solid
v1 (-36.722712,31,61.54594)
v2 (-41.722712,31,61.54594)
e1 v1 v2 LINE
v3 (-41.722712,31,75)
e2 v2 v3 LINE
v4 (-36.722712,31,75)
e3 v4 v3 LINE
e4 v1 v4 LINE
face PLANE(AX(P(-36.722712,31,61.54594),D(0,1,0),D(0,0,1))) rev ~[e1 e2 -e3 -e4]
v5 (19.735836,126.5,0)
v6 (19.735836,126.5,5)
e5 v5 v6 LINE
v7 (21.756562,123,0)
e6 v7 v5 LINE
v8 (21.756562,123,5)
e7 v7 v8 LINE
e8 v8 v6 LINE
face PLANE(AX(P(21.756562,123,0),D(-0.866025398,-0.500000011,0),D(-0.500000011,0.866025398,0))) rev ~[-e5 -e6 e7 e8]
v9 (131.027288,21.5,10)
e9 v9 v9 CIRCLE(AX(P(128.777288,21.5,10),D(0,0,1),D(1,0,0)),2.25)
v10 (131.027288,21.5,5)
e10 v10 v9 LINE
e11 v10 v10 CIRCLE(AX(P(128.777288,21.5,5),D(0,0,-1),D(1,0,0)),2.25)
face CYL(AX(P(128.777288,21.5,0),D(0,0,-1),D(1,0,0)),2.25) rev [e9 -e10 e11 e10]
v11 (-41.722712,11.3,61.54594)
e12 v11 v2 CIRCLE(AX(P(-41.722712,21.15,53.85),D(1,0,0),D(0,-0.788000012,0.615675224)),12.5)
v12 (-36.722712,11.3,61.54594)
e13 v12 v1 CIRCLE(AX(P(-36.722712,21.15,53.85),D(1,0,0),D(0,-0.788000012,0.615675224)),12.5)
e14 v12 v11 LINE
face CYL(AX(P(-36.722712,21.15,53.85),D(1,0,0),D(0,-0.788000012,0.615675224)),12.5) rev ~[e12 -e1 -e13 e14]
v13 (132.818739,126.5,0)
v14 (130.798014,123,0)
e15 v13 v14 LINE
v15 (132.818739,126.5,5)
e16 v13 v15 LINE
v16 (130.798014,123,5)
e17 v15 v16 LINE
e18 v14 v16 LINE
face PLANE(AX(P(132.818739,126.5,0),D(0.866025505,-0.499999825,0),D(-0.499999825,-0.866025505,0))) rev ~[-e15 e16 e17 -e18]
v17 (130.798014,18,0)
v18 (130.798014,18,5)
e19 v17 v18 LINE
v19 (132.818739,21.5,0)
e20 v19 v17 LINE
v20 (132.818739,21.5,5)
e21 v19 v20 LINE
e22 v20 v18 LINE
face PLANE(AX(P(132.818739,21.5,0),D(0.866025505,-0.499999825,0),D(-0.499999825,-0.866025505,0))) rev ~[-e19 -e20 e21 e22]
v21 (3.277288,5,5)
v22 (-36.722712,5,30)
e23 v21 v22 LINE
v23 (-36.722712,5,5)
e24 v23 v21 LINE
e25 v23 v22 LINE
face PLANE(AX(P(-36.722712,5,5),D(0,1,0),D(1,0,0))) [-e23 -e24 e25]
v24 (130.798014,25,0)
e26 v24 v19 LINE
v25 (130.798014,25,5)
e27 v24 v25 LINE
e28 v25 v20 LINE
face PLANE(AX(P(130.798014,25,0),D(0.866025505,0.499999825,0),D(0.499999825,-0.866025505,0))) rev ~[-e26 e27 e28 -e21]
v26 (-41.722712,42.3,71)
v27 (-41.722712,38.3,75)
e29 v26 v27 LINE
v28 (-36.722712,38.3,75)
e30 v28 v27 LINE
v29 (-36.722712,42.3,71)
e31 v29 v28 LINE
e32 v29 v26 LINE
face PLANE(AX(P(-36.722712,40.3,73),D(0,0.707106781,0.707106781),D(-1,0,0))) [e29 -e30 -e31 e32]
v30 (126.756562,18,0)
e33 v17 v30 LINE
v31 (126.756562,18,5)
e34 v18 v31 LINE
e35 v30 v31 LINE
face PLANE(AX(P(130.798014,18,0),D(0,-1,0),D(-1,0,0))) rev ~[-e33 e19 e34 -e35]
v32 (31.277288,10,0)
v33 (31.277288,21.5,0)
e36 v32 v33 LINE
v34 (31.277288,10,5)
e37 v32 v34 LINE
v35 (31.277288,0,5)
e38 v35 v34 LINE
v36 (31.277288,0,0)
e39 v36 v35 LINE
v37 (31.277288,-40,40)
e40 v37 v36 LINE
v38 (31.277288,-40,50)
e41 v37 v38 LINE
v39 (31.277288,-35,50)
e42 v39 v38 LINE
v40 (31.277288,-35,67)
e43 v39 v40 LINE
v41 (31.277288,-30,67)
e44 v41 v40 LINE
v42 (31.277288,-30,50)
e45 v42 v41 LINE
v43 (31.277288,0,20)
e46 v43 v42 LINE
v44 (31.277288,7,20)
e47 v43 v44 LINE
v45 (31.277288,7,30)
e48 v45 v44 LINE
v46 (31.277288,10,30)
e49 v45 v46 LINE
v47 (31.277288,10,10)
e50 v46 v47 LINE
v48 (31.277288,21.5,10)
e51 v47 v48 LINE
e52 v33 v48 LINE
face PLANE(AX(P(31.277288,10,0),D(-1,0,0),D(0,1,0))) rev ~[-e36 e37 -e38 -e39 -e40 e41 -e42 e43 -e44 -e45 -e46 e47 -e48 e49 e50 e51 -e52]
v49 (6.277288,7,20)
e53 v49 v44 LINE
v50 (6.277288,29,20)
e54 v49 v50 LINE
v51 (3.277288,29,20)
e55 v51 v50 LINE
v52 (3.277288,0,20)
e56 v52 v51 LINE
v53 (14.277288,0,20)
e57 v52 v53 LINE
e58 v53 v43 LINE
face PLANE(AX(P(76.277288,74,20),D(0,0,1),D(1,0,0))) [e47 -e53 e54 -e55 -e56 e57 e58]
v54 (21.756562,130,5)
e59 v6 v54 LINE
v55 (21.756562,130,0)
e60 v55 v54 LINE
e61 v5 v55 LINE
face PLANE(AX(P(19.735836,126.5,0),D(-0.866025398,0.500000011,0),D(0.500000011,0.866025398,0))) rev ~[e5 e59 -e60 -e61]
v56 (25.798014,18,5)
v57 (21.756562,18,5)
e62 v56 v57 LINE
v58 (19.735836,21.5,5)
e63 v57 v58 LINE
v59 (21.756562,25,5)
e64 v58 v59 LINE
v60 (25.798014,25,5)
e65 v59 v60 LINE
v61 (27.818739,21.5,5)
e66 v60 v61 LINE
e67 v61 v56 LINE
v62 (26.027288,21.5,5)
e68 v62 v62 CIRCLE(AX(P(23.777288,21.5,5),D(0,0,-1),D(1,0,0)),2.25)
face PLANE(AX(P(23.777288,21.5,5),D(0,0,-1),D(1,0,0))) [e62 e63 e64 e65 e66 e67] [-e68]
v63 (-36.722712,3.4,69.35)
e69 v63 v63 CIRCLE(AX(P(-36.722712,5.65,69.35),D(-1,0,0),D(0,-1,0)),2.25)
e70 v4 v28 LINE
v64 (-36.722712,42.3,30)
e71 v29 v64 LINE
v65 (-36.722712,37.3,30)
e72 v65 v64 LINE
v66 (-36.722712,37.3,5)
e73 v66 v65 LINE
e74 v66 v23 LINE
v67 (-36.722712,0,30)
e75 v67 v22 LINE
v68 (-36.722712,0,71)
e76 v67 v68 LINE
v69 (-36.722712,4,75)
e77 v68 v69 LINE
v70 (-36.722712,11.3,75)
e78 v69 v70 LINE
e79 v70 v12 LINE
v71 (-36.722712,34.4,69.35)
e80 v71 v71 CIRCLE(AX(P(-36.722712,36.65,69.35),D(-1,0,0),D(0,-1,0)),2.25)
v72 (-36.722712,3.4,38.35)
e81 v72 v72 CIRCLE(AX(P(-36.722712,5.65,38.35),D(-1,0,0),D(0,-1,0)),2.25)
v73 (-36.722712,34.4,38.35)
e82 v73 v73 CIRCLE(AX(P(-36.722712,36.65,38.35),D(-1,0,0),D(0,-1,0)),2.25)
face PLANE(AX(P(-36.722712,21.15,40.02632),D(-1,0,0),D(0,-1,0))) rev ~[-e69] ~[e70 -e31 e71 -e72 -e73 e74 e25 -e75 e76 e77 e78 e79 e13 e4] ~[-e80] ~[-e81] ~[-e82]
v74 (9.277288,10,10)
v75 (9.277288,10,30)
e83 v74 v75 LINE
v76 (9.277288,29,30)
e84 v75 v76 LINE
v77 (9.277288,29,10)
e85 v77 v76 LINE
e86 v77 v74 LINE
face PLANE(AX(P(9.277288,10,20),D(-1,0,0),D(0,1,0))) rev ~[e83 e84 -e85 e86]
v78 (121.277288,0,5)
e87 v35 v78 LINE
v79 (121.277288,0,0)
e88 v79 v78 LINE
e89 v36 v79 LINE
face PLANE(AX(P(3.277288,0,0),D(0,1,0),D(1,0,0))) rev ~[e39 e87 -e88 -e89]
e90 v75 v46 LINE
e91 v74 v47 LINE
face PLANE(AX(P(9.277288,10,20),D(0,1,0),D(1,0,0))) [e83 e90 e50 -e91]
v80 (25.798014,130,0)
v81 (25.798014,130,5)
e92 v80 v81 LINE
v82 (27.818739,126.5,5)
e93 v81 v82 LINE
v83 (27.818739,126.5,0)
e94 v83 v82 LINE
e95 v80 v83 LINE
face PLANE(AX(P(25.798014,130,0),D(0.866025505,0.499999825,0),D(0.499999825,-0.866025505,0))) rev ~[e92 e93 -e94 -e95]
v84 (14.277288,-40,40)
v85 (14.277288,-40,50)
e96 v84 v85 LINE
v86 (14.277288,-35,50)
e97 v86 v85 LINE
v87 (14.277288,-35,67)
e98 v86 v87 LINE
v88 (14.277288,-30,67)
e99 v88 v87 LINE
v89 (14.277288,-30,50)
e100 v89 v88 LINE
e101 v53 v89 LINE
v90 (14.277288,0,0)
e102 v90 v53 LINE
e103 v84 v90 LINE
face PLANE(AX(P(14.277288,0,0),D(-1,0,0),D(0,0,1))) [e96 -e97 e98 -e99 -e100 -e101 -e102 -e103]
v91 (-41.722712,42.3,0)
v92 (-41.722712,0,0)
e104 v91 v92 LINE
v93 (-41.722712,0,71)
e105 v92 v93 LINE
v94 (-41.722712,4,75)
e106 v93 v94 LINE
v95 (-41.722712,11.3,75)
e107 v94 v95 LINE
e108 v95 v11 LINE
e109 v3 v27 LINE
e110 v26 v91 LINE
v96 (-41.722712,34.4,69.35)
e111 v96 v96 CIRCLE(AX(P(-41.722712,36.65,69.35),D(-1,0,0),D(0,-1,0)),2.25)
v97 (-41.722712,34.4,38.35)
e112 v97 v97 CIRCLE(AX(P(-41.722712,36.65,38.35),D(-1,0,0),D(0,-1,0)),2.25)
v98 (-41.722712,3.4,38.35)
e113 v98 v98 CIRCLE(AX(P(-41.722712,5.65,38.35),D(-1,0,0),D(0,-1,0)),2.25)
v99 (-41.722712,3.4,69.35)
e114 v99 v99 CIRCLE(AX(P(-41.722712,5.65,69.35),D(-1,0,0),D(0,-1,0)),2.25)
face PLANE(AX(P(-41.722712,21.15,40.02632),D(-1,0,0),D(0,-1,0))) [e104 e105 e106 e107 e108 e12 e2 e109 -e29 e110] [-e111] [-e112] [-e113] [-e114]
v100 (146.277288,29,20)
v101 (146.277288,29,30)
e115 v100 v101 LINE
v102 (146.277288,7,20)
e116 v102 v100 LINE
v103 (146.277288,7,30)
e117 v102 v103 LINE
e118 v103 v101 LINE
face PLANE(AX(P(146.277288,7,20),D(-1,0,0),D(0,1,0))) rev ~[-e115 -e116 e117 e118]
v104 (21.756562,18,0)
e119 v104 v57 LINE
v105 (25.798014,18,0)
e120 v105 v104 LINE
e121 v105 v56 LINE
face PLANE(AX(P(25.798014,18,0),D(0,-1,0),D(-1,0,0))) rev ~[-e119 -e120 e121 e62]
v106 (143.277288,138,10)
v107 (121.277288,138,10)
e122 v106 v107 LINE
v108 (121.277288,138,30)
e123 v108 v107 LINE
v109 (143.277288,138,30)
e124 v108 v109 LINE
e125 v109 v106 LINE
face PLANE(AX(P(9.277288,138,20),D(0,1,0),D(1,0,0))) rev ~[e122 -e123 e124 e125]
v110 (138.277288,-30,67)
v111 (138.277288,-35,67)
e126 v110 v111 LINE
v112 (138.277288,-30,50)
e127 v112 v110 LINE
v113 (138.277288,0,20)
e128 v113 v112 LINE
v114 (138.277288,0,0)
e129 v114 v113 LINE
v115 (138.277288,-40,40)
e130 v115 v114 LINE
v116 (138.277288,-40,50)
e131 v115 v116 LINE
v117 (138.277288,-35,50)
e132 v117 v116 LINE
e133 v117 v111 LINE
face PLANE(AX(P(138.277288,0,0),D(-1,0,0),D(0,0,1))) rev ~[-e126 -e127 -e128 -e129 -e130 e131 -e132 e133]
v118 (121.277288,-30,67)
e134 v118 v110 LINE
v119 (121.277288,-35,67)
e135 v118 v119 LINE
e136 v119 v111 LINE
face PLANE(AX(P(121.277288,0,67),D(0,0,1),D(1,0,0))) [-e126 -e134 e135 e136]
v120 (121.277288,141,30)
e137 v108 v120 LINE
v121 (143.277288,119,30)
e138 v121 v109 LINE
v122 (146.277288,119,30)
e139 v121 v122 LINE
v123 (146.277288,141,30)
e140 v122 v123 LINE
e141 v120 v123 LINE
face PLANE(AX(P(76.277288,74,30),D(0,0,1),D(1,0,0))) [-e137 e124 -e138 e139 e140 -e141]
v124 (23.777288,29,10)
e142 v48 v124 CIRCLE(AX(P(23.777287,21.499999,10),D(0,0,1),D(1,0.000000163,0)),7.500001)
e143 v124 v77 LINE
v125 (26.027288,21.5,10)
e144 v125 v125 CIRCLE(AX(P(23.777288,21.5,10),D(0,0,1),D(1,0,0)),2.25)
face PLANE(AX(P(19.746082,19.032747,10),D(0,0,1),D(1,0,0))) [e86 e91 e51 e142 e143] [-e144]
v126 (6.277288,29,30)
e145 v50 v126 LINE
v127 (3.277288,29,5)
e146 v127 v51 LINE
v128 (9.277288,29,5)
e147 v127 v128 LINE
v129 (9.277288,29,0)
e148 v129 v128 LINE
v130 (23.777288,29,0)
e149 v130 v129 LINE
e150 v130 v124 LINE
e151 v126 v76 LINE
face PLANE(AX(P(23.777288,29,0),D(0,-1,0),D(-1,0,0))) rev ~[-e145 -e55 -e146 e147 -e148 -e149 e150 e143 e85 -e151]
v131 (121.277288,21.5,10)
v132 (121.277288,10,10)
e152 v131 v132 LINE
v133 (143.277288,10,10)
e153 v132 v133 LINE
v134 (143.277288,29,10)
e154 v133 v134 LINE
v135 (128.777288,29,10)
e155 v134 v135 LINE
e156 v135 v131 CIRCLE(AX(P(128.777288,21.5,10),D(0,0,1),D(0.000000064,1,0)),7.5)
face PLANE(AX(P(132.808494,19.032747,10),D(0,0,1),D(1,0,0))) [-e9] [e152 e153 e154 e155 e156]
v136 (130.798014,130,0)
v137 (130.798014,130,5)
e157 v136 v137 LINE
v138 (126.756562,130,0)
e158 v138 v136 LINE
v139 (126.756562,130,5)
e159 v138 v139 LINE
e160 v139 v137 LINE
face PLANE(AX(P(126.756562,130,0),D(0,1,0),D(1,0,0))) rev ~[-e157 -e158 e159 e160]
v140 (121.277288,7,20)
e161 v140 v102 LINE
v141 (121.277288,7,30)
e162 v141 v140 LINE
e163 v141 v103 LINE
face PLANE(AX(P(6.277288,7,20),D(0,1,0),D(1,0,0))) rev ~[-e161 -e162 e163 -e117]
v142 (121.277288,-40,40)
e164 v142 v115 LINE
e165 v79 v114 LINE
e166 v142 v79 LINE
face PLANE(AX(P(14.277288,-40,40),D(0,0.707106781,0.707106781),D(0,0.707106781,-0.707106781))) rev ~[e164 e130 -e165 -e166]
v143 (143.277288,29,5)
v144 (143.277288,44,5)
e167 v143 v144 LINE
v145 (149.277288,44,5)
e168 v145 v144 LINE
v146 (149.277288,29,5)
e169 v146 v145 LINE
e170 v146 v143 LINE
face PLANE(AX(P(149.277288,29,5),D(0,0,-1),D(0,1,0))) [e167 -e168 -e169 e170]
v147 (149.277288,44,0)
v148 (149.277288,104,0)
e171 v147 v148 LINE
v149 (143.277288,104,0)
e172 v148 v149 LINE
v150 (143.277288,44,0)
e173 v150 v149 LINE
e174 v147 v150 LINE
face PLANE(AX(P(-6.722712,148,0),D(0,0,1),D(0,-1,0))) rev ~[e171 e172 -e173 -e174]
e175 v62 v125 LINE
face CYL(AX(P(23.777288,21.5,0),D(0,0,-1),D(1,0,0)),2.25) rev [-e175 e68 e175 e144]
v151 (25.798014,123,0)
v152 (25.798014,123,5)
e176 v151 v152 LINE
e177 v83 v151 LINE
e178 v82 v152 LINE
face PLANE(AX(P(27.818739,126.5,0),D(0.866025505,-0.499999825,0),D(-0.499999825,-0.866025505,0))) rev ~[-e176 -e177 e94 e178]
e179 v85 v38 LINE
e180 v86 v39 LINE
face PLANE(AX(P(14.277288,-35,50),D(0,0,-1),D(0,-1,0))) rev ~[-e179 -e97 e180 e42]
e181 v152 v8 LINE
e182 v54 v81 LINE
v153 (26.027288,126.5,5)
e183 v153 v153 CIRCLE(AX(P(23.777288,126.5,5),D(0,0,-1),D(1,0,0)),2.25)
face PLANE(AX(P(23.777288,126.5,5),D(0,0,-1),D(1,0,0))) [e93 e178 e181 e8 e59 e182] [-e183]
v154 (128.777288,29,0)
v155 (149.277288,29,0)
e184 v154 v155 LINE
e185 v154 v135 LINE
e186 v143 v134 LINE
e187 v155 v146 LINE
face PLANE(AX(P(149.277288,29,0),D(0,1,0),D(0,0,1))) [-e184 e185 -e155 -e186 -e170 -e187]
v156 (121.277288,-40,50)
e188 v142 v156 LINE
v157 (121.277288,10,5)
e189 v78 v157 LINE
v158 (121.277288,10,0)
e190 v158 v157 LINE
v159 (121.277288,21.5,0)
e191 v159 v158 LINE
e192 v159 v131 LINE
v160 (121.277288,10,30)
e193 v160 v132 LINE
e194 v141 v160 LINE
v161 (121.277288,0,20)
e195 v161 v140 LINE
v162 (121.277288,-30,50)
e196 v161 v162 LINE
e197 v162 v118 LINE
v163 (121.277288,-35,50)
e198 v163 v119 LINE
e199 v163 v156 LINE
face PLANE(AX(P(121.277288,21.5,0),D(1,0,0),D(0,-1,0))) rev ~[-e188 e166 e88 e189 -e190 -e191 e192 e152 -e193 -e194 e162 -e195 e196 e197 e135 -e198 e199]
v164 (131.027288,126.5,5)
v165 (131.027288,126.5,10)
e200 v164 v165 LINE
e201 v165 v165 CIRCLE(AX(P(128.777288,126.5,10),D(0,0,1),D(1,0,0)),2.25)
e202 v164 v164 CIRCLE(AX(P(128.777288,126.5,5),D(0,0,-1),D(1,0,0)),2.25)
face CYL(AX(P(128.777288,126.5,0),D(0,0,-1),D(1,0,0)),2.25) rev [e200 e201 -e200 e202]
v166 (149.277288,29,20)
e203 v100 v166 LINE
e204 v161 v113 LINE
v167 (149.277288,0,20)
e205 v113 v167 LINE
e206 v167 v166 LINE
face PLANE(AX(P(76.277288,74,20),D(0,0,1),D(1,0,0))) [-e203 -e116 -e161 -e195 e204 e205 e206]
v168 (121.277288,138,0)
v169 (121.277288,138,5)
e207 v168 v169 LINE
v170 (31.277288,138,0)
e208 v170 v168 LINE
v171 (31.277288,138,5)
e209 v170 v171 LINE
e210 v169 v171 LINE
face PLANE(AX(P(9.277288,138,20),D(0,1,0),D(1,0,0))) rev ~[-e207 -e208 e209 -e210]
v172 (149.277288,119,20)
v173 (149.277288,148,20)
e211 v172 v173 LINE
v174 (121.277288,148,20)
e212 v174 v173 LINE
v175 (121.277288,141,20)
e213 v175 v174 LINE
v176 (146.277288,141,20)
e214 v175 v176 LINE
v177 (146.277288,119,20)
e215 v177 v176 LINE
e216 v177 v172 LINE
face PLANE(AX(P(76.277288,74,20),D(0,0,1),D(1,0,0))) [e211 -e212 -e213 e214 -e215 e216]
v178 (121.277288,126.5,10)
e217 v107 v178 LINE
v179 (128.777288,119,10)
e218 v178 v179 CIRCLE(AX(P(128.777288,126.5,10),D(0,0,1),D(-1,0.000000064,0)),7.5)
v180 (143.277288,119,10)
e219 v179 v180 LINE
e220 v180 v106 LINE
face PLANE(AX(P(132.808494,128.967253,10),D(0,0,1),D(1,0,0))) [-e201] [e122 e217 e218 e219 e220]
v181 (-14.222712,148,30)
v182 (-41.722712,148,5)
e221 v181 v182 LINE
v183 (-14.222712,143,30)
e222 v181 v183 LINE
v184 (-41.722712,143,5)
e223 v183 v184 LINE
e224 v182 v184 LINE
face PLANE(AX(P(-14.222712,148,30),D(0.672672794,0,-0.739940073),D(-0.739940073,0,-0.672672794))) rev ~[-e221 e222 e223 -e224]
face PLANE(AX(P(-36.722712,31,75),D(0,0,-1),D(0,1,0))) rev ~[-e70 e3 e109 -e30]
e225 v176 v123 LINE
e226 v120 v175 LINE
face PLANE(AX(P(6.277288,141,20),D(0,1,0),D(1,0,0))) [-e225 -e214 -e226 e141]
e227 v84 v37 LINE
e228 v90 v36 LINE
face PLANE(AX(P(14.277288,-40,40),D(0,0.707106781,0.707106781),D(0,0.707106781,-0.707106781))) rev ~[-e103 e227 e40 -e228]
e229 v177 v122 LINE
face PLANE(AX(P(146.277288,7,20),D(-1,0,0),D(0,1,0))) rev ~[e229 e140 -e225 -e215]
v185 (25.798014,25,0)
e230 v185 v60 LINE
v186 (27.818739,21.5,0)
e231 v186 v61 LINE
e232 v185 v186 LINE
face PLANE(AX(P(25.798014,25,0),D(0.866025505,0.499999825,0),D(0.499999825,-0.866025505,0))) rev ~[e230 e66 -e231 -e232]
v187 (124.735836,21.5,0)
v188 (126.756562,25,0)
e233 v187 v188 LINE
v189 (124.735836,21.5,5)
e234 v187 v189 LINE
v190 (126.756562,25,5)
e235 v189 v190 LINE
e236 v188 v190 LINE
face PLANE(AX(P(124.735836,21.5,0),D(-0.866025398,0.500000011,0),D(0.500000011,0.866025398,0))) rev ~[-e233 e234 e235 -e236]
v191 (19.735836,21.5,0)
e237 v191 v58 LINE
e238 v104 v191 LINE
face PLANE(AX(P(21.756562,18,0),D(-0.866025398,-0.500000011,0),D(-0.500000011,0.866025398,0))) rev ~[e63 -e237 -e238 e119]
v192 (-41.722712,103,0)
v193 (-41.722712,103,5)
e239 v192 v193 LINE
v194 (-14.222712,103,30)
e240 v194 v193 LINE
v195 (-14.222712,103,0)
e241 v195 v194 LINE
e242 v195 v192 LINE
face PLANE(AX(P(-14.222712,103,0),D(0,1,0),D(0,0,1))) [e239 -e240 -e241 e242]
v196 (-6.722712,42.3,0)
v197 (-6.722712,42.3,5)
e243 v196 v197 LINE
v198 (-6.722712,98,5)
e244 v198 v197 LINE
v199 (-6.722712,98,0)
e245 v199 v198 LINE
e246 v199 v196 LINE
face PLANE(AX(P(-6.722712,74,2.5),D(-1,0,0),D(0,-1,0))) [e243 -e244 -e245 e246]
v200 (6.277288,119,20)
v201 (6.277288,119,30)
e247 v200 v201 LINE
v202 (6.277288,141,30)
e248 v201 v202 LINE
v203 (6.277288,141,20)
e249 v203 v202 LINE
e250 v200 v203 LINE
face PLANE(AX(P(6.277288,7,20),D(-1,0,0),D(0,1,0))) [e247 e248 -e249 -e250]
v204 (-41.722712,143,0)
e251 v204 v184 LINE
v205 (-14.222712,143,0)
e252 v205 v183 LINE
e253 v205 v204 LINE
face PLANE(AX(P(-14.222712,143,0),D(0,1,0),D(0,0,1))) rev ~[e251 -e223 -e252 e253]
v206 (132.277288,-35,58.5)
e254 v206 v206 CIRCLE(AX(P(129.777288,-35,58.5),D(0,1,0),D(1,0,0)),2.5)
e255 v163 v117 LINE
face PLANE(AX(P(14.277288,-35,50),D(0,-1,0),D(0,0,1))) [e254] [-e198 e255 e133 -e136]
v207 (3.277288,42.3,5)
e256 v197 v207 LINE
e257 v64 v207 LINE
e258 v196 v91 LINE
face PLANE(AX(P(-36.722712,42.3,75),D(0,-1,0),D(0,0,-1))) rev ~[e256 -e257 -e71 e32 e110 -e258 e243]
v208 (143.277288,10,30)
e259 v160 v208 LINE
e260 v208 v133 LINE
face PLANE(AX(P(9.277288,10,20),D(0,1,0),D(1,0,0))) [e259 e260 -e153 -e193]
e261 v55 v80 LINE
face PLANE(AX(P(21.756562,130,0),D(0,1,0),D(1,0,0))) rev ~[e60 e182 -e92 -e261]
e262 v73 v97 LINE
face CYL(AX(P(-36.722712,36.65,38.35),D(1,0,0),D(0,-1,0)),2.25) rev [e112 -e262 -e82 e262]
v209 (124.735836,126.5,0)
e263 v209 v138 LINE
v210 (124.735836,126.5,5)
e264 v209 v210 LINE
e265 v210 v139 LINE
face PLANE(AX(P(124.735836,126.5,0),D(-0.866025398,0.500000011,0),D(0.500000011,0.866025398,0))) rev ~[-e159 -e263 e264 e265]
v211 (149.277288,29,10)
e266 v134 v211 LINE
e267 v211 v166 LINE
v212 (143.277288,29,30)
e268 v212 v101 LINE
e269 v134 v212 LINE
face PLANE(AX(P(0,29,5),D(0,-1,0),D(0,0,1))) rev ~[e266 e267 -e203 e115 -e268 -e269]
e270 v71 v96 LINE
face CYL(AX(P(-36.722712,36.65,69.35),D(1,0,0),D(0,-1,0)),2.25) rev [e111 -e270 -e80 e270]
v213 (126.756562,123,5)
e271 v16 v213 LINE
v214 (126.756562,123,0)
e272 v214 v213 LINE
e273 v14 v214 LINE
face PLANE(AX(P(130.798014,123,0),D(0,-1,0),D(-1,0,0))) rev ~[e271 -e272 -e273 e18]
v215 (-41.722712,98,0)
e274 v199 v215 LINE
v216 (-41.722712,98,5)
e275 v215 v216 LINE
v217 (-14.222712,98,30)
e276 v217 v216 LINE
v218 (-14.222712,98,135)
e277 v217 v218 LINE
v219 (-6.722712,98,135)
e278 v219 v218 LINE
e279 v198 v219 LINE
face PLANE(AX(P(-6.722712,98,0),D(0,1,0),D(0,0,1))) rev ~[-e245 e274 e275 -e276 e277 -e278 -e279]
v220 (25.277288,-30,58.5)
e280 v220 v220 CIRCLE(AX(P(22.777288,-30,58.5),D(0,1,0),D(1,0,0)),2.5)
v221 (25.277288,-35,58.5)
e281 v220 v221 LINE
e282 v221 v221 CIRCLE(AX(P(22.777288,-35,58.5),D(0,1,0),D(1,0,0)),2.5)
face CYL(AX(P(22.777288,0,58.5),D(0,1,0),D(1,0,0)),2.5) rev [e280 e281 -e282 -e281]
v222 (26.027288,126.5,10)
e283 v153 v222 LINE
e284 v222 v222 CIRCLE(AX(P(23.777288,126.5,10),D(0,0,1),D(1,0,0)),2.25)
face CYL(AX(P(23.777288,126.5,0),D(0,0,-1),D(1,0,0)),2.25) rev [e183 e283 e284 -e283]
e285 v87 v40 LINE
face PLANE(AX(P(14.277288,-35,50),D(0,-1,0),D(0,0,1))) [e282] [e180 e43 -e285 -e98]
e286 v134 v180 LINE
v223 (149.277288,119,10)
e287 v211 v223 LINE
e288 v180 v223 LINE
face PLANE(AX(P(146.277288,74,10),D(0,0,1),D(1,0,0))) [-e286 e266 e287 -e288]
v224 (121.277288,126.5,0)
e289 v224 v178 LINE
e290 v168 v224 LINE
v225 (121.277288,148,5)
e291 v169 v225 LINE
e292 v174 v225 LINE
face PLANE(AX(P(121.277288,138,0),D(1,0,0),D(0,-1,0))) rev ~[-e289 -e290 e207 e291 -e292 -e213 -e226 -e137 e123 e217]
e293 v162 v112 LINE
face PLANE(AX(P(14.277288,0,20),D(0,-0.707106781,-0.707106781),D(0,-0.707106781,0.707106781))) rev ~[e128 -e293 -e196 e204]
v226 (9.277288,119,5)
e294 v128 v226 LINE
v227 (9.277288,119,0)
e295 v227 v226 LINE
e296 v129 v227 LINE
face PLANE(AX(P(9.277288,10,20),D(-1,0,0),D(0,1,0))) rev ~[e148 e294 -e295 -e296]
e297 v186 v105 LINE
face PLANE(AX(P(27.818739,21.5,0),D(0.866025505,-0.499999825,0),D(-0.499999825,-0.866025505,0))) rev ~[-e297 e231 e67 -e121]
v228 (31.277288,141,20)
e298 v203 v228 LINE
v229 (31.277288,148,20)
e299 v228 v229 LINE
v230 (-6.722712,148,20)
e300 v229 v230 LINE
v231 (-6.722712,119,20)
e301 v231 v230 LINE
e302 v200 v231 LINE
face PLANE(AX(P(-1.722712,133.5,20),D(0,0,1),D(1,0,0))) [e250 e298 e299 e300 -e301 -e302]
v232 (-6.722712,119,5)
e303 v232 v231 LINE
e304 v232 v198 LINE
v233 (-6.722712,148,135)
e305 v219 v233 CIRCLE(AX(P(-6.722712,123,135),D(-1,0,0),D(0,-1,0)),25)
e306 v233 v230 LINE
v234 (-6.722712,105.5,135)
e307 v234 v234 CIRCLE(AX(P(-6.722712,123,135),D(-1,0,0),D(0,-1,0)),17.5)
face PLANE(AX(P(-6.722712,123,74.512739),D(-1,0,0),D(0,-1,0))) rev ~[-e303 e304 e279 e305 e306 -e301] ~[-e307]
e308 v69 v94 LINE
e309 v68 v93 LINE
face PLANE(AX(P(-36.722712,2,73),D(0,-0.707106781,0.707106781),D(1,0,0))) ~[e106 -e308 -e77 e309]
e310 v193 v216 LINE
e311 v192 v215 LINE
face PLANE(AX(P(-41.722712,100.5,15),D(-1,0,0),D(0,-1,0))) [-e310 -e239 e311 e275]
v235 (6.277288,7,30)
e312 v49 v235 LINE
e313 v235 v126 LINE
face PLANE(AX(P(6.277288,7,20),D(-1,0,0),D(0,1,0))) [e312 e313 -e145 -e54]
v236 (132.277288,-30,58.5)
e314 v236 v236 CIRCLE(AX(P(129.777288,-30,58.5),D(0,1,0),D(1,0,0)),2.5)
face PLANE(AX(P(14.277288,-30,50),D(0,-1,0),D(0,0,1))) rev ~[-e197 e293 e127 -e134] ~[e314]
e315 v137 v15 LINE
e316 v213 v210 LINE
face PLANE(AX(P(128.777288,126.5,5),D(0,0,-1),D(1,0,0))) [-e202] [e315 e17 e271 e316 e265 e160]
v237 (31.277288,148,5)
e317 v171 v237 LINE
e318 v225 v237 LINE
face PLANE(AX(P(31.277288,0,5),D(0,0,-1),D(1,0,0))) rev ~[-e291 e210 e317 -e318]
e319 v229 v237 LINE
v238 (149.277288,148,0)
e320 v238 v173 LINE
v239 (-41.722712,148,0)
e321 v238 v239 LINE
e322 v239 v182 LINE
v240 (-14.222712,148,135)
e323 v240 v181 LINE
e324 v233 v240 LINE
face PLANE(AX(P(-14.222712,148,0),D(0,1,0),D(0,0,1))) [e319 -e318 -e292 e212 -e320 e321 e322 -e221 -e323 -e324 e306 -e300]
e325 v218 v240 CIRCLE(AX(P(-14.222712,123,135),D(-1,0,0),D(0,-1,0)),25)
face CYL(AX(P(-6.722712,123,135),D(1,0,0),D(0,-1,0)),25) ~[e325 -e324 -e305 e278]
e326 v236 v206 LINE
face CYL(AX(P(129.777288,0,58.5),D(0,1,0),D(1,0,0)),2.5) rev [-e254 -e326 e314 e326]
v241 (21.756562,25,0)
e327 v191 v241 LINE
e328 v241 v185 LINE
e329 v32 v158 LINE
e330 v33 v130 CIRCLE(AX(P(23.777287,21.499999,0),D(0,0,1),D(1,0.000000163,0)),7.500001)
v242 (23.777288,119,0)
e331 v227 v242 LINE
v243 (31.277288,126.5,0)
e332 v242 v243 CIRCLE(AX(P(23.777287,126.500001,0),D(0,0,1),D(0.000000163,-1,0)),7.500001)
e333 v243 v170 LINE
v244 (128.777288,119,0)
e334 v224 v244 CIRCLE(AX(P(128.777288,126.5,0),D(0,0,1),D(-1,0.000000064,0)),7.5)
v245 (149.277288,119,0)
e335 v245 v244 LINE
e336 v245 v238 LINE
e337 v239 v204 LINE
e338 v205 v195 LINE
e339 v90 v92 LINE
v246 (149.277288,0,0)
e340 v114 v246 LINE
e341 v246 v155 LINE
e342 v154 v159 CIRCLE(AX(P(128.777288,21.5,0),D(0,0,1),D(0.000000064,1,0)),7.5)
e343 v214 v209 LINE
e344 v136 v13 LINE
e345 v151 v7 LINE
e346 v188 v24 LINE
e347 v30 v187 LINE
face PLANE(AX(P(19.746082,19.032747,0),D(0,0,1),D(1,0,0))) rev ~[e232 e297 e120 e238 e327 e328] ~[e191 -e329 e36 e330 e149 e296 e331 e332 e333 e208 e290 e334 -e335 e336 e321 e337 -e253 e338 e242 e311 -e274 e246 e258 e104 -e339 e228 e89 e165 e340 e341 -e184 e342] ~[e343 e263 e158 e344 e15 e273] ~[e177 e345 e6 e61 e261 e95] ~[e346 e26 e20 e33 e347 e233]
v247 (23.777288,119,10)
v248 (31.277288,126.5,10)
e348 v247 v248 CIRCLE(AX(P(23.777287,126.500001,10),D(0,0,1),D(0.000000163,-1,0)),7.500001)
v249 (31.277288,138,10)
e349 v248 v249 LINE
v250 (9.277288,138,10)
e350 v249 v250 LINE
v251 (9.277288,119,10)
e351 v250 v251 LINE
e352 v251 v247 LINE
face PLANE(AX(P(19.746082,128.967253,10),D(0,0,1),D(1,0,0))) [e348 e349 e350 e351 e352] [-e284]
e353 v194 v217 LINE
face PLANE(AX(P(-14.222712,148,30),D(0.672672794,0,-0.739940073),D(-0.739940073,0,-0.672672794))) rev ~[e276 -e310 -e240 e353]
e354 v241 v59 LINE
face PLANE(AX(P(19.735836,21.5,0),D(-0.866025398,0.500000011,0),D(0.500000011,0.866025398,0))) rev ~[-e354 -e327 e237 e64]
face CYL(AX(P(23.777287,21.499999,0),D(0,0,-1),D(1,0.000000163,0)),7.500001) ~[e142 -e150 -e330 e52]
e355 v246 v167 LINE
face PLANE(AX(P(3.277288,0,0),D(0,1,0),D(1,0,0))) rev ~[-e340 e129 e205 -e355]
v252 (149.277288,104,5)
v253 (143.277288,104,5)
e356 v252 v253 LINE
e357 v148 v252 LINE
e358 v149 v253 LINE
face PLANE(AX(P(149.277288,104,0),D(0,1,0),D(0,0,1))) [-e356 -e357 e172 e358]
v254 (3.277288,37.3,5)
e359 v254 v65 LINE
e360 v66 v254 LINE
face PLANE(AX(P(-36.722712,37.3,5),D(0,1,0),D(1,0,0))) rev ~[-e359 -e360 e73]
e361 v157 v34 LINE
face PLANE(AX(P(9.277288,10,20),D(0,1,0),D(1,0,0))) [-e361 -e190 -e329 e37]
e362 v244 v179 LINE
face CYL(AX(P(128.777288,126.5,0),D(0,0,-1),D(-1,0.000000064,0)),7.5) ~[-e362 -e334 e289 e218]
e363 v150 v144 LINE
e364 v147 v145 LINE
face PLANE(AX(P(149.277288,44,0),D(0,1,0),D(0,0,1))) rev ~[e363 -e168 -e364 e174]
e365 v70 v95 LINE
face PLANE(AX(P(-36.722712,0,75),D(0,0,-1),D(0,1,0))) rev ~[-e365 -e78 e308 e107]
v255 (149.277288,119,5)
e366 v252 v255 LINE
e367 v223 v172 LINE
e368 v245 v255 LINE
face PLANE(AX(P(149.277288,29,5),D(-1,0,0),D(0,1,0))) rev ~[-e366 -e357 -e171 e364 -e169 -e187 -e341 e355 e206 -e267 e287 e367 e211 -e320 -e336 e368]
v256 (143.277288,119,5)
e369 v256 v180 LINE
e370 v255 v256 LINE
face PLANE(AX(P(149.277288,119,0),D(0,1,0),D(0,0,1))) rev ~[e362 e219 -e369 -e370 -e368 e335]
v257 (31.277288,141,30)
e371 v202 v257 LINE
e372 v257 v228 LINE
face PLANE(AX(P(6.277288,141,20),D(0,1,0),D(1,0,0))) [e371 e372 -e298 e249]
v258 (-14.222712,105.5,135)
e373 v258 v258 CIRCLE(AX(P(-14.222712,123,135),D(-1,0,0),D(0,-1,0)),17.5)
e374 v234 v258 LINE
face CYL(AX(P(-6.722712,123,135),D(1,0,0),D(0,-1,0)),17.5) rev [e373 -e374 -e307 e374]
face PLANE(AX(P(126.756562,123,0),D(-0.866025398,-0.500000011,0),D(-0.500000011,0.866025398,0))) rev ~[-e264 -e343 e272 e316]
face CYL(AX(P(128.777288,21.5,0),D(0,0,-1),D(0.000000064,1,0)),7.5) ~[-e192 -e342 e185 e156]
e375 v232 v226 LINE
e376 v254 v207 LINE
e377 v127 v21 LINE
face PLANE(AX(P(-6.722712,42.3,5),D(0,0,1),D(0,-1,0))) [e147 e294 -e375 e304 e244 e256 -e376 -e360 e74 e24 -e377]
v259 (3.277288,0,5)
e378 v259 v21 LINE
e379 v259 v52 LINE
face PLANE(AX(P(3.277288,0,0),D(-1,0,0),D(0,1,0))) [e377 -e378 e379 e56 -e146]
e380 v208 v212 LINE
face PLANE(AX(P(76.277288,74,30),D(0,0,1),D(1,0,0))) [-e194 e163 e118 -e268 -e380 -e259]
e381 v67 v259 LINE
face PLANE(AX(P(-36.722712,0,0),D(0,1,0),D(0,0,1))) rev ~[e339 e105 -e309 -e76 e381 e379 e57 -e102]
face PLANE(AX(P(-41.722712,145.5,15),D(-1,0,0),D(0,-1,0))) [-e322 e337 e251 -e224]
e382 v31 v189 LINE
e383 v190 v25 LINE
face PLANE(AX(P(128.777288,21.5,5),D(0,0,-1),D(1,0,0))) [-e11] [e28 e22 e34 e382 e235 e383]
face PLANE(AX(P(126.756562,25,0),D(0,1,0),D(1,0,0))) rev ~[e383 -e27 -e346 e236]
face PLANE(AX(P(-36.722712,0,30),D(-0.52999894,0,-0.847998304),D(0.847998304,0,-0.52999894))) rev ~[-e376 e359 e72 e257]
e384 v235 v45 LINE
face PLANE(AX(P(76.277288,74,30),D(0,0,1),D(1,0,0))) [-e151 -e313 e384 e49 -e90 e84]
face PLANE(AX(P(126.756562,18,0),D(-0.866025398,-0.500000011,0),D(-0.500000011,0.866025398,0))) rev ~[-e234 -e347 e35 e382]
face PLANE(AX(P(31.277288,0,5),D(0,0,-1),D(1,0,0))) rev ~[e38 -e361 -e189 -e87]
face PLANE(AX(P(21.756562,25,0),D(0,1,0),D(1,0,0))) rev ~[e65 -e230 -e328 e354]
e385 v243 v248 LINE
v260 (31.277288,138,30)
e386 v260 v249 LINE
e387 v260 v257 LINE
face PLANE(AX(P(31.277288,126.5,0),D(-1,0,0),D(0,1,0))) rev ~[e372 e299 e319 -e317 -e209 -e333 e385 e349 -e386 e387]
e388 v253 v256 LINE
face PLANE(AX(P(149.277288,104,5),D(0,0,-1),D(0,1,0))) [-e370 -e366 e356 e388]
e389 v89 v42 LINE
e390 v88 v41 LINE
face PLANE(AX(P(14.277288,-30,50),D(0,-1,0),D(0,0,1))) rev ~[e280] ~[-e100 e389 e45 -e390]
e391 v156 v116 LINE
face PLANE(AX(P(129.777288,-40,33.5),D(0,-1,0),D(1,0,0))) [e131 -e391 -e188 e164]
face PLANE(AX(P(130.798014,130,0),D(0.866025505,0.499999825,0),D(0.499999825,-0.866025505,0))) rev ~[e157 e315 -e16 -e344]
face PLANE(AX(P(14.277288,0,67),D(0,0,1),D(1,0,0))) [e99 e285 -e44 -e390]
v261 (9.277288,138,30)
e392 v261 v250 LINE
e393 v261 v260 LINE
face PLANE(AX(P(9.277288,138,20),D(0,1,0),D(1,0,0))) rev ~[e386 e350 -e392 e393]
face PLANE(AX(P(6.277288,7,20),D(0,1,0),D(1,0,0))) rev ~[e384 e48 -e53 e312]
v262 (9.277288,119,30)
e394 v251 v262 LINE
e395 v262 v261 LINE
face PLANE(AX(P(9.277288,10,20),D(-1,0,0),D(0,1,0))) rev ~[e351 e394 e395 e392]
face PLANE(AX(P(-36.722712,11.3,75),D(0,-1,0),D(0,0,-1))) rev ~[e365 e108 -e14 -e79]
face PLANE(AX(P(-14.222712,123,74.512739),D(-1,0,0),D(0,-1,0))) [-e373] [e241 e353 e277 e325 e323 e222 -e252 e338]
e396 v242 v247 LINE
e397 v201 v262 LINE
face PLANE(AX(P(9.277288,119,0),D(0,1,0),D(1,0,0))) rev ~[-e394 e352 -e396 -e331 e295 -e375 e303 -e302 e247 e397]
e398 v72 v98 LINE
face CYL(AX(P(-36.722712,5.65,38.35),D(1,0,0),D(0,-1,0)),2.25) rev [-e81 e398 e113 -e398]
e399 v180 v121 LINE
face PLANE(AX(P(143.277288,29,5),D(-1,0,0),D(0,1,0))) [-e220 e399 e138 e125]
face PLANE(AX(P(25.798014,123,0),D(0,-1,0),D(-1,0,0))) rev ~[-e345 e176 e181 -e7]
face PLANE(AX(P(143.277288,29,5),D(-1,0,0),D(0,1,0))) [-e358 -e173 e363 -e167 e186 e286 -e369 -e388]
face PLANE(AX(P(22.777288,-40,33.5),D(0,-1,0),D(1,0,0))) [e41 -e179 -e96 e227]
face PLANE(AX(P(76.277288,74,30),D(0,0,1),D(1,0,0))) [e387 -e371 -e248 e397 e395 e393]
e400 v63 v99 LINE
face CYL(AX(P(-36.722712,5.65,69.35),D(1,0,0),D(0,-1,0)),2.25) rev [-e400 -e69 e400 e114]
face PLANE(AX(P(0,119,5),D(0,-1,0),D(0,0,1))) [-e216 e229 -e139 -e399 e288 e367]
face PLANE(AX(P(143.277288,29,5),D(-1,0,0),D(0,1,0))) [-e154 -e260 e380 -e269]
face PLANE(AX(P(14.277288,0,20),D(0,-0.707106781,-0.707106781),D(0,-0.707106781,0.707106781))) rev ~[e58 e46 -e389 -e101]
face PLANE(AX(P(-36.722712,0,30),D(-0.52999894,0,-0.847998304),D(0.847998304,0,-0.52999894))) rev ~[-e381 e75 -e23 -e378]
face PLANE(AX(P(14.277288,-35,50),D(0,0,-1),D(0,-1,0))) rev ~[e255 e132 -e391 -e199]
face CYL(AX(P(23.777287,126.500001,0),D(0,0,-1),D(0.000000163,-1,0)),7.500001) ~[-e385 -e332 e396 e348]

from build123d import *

# Parameters (mm, degrees)
F0_W      = 146
F0_H      = 148
F0_W_2    = 134
F0_H_2    = 128
F1_DEPTH  = 20
F2_W      = 140
F2_H      = 134
F2_W_2    = 134
F2_H_2    = 128
F3_DEPTH  = 10
F4_W      = 90
F4_H      = 25
F5_DEPTH  = 149.278288
F6_W      = 90
F6_H      = 25
F7_DEPTH  = 148.001
F8_W      = 17
F8_H      = 67
F8_R      = 2.5
F9_DEPTH  = 40
F10_W     = 5
F10_H     = 17
F11_DEPTH = 135.001
F12_W     = 148
F12_H     = 5
F13_DEPTH = 10
F14_R     = 17.5
F15_DEPTH = 7.5
F16_W     = 10
F16_H     = 29
F17_DEPTH = 15
F18_W     = 6
F18_H     = 90
F19_DEPTH = 5
F20_W     = 15
F20_H     = 5
F21_DEPTH = 6
F23_W     = 42.3
F23_H     = 5
F24_DEPTH = 30
F25_R     = 2.25
F26_DEPTH = 5
F27_SIZE  = 4
F28_W     = 40
F28_H     = 5
F29_DEPTH = 25
F31_DEPTH = 42.3
F32_W     = 5
F32_H     = 30
F33_DEPTH = 27.5
F35_DEPTH = 50
F36_R     = 2.25
F37_DEPTH = 10
F39_DEPTH = 5


with BuildPart() as f1:
    # F0 (on Top) → F1 (new body)
    with BuildSketch(Plane.XY):
        with Locations((76.277288, 74)):
            Rectangle(F0_W, F0_H)
        with Locations((76.277288, 74)):
            Rectangle(F0_W_2, F0_H_2, mode=Mode.SUBTRACT)
    extrude(amount=F1_DEPTH)

    # F2 (on face) → F3 (join)
    with BuildSketch(Plane.XY.offset(20)):
        with Locations((76.277288, 74)):
            Rectangle(F2_W, F2_H)
        with Locations((76.277288, 74)):
            Rectangle(F2_W_2, F2_H_2, mode=Mode.SUBTRACT)
    extrude(amount=F3_DEPTH)

    # F4 (on Right) → F5 (cut, through all)
    with BuildSketch(Plane.YZ):
        with Locations((74, 17.5)):
            Rectangle(F4_W, F4_H)
    extrude(amount=F5_DEPTH, mode=Mode.SUBTRACT)

    # F6 (on Front) → F7 (cut, through all)
    with BuildSketch(Plane.XZ):
        with Locations((76.277288, 17.5)):
            Rectangle(F6_W, F6_H)
    extrude(amount=-F7_DEPTH, mode=Mode.SUBTRACT)

    # F8 (on face) → F9 (join)
    with BuildSketch(Plane.XZ):
        with Locations((22.777288, 33.5)):
            Rectangle(F8_W, F8_H)
        with Locations((22.777288, 58.5)):
            Circle(F8_R, mode=Mode.SUBTRACT)
        with Locations((129.777288, 33.5)):
            Rectangle(F8_W, F8_H)
        with Locations((129.777288, 58.5)):
            Circle(F8_R, mode=Mode.SUBTRACT)
    extrude(amount=F9_DEPTH)

    # F10 (on face) → F11 (cut, through all)
    with BuildSketch(Plane(origin=(14.277288, 0, 0), x_dir=(0, -1, 0), z_dir=(-1, 0, 0))):
        Polygon((0, 67), (0, 20), (30, 50), (30, 67), align=None)
        with Locations((37.5, 58.5)):
            Rectangle(F10_W, F10_H)
        Polygon((40, 40), (0, 0), (40, 0), align=None)
    extrude(amount=-F11_DEPTH, mode=Mode.SUBTRACT)

    # F12 (on face) → F13 (join)
    with BuildSketch(Plane(origin=(3.277288, 0, 0), x_dir=(0, -1, 0), z_dir=(-1, 0, 0))):
        with Locations((-74, 2.5)):
            Rectangle(F12_W, F12_H)
    extrude(amount=F13_DEPTH)

    # F14 (on face) → F15 (join)
    with BuildSketch(Plane(origin=(-6.722712, 0, 0), x_dir=(0, -1, 0), z_dir=(-1, 0, 0))):
        with BuildLine():
            Line((-148, 135), (-148, 0))
            Line((-148, 0), (-98, 0))
            Line((-98, 0), (-98, 135))
            ThreePointArc((-98, 135), (-123, 160), (-148, 135))
        make_face()
        with Locations((-123, 135)):
            Circle(F14_R, mode=Mode.SUBTRACT)
    extrude(amount=F15_DEPTH)

    # F16 (on face) → F17 (join, through all)
    with BuildSketch(Plane.XY.offset(5)):
        with Locations((-1.722712, 133.5)):
            Rectangle(F16_W, F16_H)
    extrude(amount=F17_DEPTH)

    # F18 (on face) → F19 (join)
    with BuildSketch(Plane.XY.offset(5)):
        with Locations((146.277288, 74)):
            Rectangle(F18_W, F18_H)
    extrude(amount=F19_DEPTH)

    # F20 (on face) → F21 (cut, through all)
    with BuildSketch(Plane.YZ.offset(149.277288)):
        with Locations((36.5, 2.5)):
            Rectangle(F20_W, F20_H)
        with Locations((111.5, 2.5)):
            Rectangle(F20_W, F20_H)
    extrude(amount=-F21_DEPTH, mode=Mode.SUBTRACT)

    # F23 (on face) → F24 (join)
    with BuildSketch(Plane(origin=(-6.722712, 0, 0), x_dir=(0, -1, 0), z_dir=(-1, 0, 0))):
        with Locations((-21.15, 2.5)):
            Rectangle(F23_W, F23_H)
    extrude(amount=F24_DEPTH)

    # F25 (on face) → F26 (join)
    with BuildSketch(Plane(origin=(-36.722712, 0, 0), x_dir=(0, -1, 0), z_dir=(-1, 0, 0))):
        with BuildLine():
            Line((-42.3, 75), (-42.3, 0))
            Line((-42.3, 0), (0, 0))
            Line((0, 0), (0, 75))
            Line((0, 75), (-11.3, 75))
            Line((-11.3, 75), (-11.3, 61.54594))
            ThreePointArc((-11.3, 61.54594), (-21.15, 41.35), (-31, 61.54594))
            Line((-31, 61.54594), (-31, 75))
            Line((-31, 75), (-42.3, 75))
        make_face()
        with Locations((-36.65, 38.35)):
            Circle(F25_R, mode=Mode.SUBTRACT)
        with Locations((-36.65, 69.35)):
            Circle(F25_R, mode=Mode.SUBTRACT)
        with Locations((-5.65, 38.35)):
            Circle(F25_R, mode=Mode.SUBTRACT)
        with Locations((-5.65, 69.35)):
            Circle(F25_R, mode=Mode.SUBTRACT)
    extrude(amount=F26_DEPTH)

    # F27
    f27_edges = [f1.edges().sort_by_distance(p)[0] for p in [
        (-39.222712, 42.3, 75),
        (-39.222712, 0, 75),
    ]]
    chamfer(f27_edges, length=F27_SIZE)

    # F28 (on face) → F29 (join)
    with BuildSketch(Plane.XY.offset(5)):
        with Locations((-16.722712, 39.8)):
            Rectangle(F28_W, F28_H)
        with Locations((-16.722712, 2.5)):
            Rectangle(F28_W, F28_H)
    extrude(amount=F29_DEPTH)

    # F30 (on face) → F31 (cut, through all)
    with BuildSketch(Plane.XZ):
        Polygon((3.277288, 30), (-36.722712, 30), (3.277288, 5), align=None)
    extrude(amount=-F31_DEPTH, mode=Mode.SUBTRACT)

    # F32 (on face) → F33 (join, through all)
    with BuildSketch(Plane(origin=(-14.222712, 0, 0), x_dir=(0, -1, 0), z_dir=(-1, 0, 0))):
        with Locations((-145.5, 15)):
            Rectangle(F32_W, F32_H)
        with Locations((-100.5, 15)):
            Rectangle(F32_W, F32_H)
    extrude(amount=F33_DEPTH)

    # F34 (on face) → F35 (cut, through all)
    with BuildSketch(Plane(origin=(0, 148, 0), x_dir=(-1, 0, 0), z_dir=(0, 1, 0))):
        Polygon((41.722712, 5), (41.722712, 30), (14.222712, 30), align=None)
    extrude(amount=-F35_DEPTH, mode=Mode.SUBTRACT)

    # F36 (on Top) → F37 (join)
    with BuildSketch(Plane.XY):
        with BuildLine():
            Line((31.277288, 10), (31.277288, 21.5))
            ThreePointArc((31.277288, 21.5), (29.080588, 26.803301), (23.777288, 29))
            Line((23.777288, 29), (9.277288, 29))
            Line((9.277288, 29), (9.277288, 10))
            Line((9.277288, 10), (31.277288, 10))
        make_face()
        with Locations((23.777288, 21.5)):
            Circle(F36_R, mode=Mode.SUBTRACT)
        with BuildLine():
            Line((121.277288, 21.5), (121.277288, 10))
            Line((121.277288, 10), (143.277288, 10))
            Line((143.277288, 10), (143.277288, 29))
            Line((143.277288, 29), (128.777288, 29))
            ThreePointArc((128.777288, 29), (123.473987, 26.803301), (121.277288, 21.5))
        make_face()
        with Locations((128.777288, 21.5)):
            Circle(F36_R, mode=Mode.SUBTRACT)
        with BuildLine():
            Line((143.277288, 138), (121.277288, 138))
            Line((121.277288, 138), (121.277288, 126.5))
            ThreePointArc((121.277288, 126.5), (123.473987, 121.196699), (128.777288, 119))
            Line((128.777288, 119), (143.277288, 119))
            Line((143.277288, 119), (143.277288, 138))
        make_face()
        with Locations((128.777288, 126.5)):
            Circle(F36_R, mode=Mode.SUBTRACT)
        with BuildLine():
            Line((31.277288, 126.5), (31.277288, 138))
            Line((31.277288, 138), (9.277288, 138))
            Line((9.277288, 138), (9.277288, 119))
            Line((9.277288, 119), (23.777288, 119))
            ThreePointArc((23.777288, 119), (29.080588, 121.196699), (31.277288, 126.5))
        make_face()
        with Locations((23.777288, 126.5)):
            Circle(F36_R, mode=Mode.SUBTRACT)
    extrude(amount=F37_DEPTH)

    # F38 (on face) → F39 (cut)
    with BuildSketch(Plane(origin=(0, 0, 0), x_dir=(1, 0, 0), z_dir=(0, 0, -1))):
        Polygon((25.798014, -18), (21.756562, -18), (19.735836, -21.5), (21.756562, -25), (25.798014, -25), (27.818739, -21.5), align=None)
        Polygon((126.756562, -18), (124.735836, -21.5), (126.756562, -25), (130.798014, -25), (132.818739, -21.5), (130.798014, -18), align=None)
        Polygon((126.756562, -130), (130.798014, -130), (132.818739, -126.5), (130.798014, -123), (126.756562, -123), (124.735836, -126.5), align=None)
        Polygon((25.798014, -130), (27.818739, -126.5), (25.798014, -123), (21.756562, -123), (19.735836, -126.5), (21.756562, -130), align=None)
    extrude(amount=-F39_DEPTH, mode=Mode.SUBTRACT)


solid = f1.part
